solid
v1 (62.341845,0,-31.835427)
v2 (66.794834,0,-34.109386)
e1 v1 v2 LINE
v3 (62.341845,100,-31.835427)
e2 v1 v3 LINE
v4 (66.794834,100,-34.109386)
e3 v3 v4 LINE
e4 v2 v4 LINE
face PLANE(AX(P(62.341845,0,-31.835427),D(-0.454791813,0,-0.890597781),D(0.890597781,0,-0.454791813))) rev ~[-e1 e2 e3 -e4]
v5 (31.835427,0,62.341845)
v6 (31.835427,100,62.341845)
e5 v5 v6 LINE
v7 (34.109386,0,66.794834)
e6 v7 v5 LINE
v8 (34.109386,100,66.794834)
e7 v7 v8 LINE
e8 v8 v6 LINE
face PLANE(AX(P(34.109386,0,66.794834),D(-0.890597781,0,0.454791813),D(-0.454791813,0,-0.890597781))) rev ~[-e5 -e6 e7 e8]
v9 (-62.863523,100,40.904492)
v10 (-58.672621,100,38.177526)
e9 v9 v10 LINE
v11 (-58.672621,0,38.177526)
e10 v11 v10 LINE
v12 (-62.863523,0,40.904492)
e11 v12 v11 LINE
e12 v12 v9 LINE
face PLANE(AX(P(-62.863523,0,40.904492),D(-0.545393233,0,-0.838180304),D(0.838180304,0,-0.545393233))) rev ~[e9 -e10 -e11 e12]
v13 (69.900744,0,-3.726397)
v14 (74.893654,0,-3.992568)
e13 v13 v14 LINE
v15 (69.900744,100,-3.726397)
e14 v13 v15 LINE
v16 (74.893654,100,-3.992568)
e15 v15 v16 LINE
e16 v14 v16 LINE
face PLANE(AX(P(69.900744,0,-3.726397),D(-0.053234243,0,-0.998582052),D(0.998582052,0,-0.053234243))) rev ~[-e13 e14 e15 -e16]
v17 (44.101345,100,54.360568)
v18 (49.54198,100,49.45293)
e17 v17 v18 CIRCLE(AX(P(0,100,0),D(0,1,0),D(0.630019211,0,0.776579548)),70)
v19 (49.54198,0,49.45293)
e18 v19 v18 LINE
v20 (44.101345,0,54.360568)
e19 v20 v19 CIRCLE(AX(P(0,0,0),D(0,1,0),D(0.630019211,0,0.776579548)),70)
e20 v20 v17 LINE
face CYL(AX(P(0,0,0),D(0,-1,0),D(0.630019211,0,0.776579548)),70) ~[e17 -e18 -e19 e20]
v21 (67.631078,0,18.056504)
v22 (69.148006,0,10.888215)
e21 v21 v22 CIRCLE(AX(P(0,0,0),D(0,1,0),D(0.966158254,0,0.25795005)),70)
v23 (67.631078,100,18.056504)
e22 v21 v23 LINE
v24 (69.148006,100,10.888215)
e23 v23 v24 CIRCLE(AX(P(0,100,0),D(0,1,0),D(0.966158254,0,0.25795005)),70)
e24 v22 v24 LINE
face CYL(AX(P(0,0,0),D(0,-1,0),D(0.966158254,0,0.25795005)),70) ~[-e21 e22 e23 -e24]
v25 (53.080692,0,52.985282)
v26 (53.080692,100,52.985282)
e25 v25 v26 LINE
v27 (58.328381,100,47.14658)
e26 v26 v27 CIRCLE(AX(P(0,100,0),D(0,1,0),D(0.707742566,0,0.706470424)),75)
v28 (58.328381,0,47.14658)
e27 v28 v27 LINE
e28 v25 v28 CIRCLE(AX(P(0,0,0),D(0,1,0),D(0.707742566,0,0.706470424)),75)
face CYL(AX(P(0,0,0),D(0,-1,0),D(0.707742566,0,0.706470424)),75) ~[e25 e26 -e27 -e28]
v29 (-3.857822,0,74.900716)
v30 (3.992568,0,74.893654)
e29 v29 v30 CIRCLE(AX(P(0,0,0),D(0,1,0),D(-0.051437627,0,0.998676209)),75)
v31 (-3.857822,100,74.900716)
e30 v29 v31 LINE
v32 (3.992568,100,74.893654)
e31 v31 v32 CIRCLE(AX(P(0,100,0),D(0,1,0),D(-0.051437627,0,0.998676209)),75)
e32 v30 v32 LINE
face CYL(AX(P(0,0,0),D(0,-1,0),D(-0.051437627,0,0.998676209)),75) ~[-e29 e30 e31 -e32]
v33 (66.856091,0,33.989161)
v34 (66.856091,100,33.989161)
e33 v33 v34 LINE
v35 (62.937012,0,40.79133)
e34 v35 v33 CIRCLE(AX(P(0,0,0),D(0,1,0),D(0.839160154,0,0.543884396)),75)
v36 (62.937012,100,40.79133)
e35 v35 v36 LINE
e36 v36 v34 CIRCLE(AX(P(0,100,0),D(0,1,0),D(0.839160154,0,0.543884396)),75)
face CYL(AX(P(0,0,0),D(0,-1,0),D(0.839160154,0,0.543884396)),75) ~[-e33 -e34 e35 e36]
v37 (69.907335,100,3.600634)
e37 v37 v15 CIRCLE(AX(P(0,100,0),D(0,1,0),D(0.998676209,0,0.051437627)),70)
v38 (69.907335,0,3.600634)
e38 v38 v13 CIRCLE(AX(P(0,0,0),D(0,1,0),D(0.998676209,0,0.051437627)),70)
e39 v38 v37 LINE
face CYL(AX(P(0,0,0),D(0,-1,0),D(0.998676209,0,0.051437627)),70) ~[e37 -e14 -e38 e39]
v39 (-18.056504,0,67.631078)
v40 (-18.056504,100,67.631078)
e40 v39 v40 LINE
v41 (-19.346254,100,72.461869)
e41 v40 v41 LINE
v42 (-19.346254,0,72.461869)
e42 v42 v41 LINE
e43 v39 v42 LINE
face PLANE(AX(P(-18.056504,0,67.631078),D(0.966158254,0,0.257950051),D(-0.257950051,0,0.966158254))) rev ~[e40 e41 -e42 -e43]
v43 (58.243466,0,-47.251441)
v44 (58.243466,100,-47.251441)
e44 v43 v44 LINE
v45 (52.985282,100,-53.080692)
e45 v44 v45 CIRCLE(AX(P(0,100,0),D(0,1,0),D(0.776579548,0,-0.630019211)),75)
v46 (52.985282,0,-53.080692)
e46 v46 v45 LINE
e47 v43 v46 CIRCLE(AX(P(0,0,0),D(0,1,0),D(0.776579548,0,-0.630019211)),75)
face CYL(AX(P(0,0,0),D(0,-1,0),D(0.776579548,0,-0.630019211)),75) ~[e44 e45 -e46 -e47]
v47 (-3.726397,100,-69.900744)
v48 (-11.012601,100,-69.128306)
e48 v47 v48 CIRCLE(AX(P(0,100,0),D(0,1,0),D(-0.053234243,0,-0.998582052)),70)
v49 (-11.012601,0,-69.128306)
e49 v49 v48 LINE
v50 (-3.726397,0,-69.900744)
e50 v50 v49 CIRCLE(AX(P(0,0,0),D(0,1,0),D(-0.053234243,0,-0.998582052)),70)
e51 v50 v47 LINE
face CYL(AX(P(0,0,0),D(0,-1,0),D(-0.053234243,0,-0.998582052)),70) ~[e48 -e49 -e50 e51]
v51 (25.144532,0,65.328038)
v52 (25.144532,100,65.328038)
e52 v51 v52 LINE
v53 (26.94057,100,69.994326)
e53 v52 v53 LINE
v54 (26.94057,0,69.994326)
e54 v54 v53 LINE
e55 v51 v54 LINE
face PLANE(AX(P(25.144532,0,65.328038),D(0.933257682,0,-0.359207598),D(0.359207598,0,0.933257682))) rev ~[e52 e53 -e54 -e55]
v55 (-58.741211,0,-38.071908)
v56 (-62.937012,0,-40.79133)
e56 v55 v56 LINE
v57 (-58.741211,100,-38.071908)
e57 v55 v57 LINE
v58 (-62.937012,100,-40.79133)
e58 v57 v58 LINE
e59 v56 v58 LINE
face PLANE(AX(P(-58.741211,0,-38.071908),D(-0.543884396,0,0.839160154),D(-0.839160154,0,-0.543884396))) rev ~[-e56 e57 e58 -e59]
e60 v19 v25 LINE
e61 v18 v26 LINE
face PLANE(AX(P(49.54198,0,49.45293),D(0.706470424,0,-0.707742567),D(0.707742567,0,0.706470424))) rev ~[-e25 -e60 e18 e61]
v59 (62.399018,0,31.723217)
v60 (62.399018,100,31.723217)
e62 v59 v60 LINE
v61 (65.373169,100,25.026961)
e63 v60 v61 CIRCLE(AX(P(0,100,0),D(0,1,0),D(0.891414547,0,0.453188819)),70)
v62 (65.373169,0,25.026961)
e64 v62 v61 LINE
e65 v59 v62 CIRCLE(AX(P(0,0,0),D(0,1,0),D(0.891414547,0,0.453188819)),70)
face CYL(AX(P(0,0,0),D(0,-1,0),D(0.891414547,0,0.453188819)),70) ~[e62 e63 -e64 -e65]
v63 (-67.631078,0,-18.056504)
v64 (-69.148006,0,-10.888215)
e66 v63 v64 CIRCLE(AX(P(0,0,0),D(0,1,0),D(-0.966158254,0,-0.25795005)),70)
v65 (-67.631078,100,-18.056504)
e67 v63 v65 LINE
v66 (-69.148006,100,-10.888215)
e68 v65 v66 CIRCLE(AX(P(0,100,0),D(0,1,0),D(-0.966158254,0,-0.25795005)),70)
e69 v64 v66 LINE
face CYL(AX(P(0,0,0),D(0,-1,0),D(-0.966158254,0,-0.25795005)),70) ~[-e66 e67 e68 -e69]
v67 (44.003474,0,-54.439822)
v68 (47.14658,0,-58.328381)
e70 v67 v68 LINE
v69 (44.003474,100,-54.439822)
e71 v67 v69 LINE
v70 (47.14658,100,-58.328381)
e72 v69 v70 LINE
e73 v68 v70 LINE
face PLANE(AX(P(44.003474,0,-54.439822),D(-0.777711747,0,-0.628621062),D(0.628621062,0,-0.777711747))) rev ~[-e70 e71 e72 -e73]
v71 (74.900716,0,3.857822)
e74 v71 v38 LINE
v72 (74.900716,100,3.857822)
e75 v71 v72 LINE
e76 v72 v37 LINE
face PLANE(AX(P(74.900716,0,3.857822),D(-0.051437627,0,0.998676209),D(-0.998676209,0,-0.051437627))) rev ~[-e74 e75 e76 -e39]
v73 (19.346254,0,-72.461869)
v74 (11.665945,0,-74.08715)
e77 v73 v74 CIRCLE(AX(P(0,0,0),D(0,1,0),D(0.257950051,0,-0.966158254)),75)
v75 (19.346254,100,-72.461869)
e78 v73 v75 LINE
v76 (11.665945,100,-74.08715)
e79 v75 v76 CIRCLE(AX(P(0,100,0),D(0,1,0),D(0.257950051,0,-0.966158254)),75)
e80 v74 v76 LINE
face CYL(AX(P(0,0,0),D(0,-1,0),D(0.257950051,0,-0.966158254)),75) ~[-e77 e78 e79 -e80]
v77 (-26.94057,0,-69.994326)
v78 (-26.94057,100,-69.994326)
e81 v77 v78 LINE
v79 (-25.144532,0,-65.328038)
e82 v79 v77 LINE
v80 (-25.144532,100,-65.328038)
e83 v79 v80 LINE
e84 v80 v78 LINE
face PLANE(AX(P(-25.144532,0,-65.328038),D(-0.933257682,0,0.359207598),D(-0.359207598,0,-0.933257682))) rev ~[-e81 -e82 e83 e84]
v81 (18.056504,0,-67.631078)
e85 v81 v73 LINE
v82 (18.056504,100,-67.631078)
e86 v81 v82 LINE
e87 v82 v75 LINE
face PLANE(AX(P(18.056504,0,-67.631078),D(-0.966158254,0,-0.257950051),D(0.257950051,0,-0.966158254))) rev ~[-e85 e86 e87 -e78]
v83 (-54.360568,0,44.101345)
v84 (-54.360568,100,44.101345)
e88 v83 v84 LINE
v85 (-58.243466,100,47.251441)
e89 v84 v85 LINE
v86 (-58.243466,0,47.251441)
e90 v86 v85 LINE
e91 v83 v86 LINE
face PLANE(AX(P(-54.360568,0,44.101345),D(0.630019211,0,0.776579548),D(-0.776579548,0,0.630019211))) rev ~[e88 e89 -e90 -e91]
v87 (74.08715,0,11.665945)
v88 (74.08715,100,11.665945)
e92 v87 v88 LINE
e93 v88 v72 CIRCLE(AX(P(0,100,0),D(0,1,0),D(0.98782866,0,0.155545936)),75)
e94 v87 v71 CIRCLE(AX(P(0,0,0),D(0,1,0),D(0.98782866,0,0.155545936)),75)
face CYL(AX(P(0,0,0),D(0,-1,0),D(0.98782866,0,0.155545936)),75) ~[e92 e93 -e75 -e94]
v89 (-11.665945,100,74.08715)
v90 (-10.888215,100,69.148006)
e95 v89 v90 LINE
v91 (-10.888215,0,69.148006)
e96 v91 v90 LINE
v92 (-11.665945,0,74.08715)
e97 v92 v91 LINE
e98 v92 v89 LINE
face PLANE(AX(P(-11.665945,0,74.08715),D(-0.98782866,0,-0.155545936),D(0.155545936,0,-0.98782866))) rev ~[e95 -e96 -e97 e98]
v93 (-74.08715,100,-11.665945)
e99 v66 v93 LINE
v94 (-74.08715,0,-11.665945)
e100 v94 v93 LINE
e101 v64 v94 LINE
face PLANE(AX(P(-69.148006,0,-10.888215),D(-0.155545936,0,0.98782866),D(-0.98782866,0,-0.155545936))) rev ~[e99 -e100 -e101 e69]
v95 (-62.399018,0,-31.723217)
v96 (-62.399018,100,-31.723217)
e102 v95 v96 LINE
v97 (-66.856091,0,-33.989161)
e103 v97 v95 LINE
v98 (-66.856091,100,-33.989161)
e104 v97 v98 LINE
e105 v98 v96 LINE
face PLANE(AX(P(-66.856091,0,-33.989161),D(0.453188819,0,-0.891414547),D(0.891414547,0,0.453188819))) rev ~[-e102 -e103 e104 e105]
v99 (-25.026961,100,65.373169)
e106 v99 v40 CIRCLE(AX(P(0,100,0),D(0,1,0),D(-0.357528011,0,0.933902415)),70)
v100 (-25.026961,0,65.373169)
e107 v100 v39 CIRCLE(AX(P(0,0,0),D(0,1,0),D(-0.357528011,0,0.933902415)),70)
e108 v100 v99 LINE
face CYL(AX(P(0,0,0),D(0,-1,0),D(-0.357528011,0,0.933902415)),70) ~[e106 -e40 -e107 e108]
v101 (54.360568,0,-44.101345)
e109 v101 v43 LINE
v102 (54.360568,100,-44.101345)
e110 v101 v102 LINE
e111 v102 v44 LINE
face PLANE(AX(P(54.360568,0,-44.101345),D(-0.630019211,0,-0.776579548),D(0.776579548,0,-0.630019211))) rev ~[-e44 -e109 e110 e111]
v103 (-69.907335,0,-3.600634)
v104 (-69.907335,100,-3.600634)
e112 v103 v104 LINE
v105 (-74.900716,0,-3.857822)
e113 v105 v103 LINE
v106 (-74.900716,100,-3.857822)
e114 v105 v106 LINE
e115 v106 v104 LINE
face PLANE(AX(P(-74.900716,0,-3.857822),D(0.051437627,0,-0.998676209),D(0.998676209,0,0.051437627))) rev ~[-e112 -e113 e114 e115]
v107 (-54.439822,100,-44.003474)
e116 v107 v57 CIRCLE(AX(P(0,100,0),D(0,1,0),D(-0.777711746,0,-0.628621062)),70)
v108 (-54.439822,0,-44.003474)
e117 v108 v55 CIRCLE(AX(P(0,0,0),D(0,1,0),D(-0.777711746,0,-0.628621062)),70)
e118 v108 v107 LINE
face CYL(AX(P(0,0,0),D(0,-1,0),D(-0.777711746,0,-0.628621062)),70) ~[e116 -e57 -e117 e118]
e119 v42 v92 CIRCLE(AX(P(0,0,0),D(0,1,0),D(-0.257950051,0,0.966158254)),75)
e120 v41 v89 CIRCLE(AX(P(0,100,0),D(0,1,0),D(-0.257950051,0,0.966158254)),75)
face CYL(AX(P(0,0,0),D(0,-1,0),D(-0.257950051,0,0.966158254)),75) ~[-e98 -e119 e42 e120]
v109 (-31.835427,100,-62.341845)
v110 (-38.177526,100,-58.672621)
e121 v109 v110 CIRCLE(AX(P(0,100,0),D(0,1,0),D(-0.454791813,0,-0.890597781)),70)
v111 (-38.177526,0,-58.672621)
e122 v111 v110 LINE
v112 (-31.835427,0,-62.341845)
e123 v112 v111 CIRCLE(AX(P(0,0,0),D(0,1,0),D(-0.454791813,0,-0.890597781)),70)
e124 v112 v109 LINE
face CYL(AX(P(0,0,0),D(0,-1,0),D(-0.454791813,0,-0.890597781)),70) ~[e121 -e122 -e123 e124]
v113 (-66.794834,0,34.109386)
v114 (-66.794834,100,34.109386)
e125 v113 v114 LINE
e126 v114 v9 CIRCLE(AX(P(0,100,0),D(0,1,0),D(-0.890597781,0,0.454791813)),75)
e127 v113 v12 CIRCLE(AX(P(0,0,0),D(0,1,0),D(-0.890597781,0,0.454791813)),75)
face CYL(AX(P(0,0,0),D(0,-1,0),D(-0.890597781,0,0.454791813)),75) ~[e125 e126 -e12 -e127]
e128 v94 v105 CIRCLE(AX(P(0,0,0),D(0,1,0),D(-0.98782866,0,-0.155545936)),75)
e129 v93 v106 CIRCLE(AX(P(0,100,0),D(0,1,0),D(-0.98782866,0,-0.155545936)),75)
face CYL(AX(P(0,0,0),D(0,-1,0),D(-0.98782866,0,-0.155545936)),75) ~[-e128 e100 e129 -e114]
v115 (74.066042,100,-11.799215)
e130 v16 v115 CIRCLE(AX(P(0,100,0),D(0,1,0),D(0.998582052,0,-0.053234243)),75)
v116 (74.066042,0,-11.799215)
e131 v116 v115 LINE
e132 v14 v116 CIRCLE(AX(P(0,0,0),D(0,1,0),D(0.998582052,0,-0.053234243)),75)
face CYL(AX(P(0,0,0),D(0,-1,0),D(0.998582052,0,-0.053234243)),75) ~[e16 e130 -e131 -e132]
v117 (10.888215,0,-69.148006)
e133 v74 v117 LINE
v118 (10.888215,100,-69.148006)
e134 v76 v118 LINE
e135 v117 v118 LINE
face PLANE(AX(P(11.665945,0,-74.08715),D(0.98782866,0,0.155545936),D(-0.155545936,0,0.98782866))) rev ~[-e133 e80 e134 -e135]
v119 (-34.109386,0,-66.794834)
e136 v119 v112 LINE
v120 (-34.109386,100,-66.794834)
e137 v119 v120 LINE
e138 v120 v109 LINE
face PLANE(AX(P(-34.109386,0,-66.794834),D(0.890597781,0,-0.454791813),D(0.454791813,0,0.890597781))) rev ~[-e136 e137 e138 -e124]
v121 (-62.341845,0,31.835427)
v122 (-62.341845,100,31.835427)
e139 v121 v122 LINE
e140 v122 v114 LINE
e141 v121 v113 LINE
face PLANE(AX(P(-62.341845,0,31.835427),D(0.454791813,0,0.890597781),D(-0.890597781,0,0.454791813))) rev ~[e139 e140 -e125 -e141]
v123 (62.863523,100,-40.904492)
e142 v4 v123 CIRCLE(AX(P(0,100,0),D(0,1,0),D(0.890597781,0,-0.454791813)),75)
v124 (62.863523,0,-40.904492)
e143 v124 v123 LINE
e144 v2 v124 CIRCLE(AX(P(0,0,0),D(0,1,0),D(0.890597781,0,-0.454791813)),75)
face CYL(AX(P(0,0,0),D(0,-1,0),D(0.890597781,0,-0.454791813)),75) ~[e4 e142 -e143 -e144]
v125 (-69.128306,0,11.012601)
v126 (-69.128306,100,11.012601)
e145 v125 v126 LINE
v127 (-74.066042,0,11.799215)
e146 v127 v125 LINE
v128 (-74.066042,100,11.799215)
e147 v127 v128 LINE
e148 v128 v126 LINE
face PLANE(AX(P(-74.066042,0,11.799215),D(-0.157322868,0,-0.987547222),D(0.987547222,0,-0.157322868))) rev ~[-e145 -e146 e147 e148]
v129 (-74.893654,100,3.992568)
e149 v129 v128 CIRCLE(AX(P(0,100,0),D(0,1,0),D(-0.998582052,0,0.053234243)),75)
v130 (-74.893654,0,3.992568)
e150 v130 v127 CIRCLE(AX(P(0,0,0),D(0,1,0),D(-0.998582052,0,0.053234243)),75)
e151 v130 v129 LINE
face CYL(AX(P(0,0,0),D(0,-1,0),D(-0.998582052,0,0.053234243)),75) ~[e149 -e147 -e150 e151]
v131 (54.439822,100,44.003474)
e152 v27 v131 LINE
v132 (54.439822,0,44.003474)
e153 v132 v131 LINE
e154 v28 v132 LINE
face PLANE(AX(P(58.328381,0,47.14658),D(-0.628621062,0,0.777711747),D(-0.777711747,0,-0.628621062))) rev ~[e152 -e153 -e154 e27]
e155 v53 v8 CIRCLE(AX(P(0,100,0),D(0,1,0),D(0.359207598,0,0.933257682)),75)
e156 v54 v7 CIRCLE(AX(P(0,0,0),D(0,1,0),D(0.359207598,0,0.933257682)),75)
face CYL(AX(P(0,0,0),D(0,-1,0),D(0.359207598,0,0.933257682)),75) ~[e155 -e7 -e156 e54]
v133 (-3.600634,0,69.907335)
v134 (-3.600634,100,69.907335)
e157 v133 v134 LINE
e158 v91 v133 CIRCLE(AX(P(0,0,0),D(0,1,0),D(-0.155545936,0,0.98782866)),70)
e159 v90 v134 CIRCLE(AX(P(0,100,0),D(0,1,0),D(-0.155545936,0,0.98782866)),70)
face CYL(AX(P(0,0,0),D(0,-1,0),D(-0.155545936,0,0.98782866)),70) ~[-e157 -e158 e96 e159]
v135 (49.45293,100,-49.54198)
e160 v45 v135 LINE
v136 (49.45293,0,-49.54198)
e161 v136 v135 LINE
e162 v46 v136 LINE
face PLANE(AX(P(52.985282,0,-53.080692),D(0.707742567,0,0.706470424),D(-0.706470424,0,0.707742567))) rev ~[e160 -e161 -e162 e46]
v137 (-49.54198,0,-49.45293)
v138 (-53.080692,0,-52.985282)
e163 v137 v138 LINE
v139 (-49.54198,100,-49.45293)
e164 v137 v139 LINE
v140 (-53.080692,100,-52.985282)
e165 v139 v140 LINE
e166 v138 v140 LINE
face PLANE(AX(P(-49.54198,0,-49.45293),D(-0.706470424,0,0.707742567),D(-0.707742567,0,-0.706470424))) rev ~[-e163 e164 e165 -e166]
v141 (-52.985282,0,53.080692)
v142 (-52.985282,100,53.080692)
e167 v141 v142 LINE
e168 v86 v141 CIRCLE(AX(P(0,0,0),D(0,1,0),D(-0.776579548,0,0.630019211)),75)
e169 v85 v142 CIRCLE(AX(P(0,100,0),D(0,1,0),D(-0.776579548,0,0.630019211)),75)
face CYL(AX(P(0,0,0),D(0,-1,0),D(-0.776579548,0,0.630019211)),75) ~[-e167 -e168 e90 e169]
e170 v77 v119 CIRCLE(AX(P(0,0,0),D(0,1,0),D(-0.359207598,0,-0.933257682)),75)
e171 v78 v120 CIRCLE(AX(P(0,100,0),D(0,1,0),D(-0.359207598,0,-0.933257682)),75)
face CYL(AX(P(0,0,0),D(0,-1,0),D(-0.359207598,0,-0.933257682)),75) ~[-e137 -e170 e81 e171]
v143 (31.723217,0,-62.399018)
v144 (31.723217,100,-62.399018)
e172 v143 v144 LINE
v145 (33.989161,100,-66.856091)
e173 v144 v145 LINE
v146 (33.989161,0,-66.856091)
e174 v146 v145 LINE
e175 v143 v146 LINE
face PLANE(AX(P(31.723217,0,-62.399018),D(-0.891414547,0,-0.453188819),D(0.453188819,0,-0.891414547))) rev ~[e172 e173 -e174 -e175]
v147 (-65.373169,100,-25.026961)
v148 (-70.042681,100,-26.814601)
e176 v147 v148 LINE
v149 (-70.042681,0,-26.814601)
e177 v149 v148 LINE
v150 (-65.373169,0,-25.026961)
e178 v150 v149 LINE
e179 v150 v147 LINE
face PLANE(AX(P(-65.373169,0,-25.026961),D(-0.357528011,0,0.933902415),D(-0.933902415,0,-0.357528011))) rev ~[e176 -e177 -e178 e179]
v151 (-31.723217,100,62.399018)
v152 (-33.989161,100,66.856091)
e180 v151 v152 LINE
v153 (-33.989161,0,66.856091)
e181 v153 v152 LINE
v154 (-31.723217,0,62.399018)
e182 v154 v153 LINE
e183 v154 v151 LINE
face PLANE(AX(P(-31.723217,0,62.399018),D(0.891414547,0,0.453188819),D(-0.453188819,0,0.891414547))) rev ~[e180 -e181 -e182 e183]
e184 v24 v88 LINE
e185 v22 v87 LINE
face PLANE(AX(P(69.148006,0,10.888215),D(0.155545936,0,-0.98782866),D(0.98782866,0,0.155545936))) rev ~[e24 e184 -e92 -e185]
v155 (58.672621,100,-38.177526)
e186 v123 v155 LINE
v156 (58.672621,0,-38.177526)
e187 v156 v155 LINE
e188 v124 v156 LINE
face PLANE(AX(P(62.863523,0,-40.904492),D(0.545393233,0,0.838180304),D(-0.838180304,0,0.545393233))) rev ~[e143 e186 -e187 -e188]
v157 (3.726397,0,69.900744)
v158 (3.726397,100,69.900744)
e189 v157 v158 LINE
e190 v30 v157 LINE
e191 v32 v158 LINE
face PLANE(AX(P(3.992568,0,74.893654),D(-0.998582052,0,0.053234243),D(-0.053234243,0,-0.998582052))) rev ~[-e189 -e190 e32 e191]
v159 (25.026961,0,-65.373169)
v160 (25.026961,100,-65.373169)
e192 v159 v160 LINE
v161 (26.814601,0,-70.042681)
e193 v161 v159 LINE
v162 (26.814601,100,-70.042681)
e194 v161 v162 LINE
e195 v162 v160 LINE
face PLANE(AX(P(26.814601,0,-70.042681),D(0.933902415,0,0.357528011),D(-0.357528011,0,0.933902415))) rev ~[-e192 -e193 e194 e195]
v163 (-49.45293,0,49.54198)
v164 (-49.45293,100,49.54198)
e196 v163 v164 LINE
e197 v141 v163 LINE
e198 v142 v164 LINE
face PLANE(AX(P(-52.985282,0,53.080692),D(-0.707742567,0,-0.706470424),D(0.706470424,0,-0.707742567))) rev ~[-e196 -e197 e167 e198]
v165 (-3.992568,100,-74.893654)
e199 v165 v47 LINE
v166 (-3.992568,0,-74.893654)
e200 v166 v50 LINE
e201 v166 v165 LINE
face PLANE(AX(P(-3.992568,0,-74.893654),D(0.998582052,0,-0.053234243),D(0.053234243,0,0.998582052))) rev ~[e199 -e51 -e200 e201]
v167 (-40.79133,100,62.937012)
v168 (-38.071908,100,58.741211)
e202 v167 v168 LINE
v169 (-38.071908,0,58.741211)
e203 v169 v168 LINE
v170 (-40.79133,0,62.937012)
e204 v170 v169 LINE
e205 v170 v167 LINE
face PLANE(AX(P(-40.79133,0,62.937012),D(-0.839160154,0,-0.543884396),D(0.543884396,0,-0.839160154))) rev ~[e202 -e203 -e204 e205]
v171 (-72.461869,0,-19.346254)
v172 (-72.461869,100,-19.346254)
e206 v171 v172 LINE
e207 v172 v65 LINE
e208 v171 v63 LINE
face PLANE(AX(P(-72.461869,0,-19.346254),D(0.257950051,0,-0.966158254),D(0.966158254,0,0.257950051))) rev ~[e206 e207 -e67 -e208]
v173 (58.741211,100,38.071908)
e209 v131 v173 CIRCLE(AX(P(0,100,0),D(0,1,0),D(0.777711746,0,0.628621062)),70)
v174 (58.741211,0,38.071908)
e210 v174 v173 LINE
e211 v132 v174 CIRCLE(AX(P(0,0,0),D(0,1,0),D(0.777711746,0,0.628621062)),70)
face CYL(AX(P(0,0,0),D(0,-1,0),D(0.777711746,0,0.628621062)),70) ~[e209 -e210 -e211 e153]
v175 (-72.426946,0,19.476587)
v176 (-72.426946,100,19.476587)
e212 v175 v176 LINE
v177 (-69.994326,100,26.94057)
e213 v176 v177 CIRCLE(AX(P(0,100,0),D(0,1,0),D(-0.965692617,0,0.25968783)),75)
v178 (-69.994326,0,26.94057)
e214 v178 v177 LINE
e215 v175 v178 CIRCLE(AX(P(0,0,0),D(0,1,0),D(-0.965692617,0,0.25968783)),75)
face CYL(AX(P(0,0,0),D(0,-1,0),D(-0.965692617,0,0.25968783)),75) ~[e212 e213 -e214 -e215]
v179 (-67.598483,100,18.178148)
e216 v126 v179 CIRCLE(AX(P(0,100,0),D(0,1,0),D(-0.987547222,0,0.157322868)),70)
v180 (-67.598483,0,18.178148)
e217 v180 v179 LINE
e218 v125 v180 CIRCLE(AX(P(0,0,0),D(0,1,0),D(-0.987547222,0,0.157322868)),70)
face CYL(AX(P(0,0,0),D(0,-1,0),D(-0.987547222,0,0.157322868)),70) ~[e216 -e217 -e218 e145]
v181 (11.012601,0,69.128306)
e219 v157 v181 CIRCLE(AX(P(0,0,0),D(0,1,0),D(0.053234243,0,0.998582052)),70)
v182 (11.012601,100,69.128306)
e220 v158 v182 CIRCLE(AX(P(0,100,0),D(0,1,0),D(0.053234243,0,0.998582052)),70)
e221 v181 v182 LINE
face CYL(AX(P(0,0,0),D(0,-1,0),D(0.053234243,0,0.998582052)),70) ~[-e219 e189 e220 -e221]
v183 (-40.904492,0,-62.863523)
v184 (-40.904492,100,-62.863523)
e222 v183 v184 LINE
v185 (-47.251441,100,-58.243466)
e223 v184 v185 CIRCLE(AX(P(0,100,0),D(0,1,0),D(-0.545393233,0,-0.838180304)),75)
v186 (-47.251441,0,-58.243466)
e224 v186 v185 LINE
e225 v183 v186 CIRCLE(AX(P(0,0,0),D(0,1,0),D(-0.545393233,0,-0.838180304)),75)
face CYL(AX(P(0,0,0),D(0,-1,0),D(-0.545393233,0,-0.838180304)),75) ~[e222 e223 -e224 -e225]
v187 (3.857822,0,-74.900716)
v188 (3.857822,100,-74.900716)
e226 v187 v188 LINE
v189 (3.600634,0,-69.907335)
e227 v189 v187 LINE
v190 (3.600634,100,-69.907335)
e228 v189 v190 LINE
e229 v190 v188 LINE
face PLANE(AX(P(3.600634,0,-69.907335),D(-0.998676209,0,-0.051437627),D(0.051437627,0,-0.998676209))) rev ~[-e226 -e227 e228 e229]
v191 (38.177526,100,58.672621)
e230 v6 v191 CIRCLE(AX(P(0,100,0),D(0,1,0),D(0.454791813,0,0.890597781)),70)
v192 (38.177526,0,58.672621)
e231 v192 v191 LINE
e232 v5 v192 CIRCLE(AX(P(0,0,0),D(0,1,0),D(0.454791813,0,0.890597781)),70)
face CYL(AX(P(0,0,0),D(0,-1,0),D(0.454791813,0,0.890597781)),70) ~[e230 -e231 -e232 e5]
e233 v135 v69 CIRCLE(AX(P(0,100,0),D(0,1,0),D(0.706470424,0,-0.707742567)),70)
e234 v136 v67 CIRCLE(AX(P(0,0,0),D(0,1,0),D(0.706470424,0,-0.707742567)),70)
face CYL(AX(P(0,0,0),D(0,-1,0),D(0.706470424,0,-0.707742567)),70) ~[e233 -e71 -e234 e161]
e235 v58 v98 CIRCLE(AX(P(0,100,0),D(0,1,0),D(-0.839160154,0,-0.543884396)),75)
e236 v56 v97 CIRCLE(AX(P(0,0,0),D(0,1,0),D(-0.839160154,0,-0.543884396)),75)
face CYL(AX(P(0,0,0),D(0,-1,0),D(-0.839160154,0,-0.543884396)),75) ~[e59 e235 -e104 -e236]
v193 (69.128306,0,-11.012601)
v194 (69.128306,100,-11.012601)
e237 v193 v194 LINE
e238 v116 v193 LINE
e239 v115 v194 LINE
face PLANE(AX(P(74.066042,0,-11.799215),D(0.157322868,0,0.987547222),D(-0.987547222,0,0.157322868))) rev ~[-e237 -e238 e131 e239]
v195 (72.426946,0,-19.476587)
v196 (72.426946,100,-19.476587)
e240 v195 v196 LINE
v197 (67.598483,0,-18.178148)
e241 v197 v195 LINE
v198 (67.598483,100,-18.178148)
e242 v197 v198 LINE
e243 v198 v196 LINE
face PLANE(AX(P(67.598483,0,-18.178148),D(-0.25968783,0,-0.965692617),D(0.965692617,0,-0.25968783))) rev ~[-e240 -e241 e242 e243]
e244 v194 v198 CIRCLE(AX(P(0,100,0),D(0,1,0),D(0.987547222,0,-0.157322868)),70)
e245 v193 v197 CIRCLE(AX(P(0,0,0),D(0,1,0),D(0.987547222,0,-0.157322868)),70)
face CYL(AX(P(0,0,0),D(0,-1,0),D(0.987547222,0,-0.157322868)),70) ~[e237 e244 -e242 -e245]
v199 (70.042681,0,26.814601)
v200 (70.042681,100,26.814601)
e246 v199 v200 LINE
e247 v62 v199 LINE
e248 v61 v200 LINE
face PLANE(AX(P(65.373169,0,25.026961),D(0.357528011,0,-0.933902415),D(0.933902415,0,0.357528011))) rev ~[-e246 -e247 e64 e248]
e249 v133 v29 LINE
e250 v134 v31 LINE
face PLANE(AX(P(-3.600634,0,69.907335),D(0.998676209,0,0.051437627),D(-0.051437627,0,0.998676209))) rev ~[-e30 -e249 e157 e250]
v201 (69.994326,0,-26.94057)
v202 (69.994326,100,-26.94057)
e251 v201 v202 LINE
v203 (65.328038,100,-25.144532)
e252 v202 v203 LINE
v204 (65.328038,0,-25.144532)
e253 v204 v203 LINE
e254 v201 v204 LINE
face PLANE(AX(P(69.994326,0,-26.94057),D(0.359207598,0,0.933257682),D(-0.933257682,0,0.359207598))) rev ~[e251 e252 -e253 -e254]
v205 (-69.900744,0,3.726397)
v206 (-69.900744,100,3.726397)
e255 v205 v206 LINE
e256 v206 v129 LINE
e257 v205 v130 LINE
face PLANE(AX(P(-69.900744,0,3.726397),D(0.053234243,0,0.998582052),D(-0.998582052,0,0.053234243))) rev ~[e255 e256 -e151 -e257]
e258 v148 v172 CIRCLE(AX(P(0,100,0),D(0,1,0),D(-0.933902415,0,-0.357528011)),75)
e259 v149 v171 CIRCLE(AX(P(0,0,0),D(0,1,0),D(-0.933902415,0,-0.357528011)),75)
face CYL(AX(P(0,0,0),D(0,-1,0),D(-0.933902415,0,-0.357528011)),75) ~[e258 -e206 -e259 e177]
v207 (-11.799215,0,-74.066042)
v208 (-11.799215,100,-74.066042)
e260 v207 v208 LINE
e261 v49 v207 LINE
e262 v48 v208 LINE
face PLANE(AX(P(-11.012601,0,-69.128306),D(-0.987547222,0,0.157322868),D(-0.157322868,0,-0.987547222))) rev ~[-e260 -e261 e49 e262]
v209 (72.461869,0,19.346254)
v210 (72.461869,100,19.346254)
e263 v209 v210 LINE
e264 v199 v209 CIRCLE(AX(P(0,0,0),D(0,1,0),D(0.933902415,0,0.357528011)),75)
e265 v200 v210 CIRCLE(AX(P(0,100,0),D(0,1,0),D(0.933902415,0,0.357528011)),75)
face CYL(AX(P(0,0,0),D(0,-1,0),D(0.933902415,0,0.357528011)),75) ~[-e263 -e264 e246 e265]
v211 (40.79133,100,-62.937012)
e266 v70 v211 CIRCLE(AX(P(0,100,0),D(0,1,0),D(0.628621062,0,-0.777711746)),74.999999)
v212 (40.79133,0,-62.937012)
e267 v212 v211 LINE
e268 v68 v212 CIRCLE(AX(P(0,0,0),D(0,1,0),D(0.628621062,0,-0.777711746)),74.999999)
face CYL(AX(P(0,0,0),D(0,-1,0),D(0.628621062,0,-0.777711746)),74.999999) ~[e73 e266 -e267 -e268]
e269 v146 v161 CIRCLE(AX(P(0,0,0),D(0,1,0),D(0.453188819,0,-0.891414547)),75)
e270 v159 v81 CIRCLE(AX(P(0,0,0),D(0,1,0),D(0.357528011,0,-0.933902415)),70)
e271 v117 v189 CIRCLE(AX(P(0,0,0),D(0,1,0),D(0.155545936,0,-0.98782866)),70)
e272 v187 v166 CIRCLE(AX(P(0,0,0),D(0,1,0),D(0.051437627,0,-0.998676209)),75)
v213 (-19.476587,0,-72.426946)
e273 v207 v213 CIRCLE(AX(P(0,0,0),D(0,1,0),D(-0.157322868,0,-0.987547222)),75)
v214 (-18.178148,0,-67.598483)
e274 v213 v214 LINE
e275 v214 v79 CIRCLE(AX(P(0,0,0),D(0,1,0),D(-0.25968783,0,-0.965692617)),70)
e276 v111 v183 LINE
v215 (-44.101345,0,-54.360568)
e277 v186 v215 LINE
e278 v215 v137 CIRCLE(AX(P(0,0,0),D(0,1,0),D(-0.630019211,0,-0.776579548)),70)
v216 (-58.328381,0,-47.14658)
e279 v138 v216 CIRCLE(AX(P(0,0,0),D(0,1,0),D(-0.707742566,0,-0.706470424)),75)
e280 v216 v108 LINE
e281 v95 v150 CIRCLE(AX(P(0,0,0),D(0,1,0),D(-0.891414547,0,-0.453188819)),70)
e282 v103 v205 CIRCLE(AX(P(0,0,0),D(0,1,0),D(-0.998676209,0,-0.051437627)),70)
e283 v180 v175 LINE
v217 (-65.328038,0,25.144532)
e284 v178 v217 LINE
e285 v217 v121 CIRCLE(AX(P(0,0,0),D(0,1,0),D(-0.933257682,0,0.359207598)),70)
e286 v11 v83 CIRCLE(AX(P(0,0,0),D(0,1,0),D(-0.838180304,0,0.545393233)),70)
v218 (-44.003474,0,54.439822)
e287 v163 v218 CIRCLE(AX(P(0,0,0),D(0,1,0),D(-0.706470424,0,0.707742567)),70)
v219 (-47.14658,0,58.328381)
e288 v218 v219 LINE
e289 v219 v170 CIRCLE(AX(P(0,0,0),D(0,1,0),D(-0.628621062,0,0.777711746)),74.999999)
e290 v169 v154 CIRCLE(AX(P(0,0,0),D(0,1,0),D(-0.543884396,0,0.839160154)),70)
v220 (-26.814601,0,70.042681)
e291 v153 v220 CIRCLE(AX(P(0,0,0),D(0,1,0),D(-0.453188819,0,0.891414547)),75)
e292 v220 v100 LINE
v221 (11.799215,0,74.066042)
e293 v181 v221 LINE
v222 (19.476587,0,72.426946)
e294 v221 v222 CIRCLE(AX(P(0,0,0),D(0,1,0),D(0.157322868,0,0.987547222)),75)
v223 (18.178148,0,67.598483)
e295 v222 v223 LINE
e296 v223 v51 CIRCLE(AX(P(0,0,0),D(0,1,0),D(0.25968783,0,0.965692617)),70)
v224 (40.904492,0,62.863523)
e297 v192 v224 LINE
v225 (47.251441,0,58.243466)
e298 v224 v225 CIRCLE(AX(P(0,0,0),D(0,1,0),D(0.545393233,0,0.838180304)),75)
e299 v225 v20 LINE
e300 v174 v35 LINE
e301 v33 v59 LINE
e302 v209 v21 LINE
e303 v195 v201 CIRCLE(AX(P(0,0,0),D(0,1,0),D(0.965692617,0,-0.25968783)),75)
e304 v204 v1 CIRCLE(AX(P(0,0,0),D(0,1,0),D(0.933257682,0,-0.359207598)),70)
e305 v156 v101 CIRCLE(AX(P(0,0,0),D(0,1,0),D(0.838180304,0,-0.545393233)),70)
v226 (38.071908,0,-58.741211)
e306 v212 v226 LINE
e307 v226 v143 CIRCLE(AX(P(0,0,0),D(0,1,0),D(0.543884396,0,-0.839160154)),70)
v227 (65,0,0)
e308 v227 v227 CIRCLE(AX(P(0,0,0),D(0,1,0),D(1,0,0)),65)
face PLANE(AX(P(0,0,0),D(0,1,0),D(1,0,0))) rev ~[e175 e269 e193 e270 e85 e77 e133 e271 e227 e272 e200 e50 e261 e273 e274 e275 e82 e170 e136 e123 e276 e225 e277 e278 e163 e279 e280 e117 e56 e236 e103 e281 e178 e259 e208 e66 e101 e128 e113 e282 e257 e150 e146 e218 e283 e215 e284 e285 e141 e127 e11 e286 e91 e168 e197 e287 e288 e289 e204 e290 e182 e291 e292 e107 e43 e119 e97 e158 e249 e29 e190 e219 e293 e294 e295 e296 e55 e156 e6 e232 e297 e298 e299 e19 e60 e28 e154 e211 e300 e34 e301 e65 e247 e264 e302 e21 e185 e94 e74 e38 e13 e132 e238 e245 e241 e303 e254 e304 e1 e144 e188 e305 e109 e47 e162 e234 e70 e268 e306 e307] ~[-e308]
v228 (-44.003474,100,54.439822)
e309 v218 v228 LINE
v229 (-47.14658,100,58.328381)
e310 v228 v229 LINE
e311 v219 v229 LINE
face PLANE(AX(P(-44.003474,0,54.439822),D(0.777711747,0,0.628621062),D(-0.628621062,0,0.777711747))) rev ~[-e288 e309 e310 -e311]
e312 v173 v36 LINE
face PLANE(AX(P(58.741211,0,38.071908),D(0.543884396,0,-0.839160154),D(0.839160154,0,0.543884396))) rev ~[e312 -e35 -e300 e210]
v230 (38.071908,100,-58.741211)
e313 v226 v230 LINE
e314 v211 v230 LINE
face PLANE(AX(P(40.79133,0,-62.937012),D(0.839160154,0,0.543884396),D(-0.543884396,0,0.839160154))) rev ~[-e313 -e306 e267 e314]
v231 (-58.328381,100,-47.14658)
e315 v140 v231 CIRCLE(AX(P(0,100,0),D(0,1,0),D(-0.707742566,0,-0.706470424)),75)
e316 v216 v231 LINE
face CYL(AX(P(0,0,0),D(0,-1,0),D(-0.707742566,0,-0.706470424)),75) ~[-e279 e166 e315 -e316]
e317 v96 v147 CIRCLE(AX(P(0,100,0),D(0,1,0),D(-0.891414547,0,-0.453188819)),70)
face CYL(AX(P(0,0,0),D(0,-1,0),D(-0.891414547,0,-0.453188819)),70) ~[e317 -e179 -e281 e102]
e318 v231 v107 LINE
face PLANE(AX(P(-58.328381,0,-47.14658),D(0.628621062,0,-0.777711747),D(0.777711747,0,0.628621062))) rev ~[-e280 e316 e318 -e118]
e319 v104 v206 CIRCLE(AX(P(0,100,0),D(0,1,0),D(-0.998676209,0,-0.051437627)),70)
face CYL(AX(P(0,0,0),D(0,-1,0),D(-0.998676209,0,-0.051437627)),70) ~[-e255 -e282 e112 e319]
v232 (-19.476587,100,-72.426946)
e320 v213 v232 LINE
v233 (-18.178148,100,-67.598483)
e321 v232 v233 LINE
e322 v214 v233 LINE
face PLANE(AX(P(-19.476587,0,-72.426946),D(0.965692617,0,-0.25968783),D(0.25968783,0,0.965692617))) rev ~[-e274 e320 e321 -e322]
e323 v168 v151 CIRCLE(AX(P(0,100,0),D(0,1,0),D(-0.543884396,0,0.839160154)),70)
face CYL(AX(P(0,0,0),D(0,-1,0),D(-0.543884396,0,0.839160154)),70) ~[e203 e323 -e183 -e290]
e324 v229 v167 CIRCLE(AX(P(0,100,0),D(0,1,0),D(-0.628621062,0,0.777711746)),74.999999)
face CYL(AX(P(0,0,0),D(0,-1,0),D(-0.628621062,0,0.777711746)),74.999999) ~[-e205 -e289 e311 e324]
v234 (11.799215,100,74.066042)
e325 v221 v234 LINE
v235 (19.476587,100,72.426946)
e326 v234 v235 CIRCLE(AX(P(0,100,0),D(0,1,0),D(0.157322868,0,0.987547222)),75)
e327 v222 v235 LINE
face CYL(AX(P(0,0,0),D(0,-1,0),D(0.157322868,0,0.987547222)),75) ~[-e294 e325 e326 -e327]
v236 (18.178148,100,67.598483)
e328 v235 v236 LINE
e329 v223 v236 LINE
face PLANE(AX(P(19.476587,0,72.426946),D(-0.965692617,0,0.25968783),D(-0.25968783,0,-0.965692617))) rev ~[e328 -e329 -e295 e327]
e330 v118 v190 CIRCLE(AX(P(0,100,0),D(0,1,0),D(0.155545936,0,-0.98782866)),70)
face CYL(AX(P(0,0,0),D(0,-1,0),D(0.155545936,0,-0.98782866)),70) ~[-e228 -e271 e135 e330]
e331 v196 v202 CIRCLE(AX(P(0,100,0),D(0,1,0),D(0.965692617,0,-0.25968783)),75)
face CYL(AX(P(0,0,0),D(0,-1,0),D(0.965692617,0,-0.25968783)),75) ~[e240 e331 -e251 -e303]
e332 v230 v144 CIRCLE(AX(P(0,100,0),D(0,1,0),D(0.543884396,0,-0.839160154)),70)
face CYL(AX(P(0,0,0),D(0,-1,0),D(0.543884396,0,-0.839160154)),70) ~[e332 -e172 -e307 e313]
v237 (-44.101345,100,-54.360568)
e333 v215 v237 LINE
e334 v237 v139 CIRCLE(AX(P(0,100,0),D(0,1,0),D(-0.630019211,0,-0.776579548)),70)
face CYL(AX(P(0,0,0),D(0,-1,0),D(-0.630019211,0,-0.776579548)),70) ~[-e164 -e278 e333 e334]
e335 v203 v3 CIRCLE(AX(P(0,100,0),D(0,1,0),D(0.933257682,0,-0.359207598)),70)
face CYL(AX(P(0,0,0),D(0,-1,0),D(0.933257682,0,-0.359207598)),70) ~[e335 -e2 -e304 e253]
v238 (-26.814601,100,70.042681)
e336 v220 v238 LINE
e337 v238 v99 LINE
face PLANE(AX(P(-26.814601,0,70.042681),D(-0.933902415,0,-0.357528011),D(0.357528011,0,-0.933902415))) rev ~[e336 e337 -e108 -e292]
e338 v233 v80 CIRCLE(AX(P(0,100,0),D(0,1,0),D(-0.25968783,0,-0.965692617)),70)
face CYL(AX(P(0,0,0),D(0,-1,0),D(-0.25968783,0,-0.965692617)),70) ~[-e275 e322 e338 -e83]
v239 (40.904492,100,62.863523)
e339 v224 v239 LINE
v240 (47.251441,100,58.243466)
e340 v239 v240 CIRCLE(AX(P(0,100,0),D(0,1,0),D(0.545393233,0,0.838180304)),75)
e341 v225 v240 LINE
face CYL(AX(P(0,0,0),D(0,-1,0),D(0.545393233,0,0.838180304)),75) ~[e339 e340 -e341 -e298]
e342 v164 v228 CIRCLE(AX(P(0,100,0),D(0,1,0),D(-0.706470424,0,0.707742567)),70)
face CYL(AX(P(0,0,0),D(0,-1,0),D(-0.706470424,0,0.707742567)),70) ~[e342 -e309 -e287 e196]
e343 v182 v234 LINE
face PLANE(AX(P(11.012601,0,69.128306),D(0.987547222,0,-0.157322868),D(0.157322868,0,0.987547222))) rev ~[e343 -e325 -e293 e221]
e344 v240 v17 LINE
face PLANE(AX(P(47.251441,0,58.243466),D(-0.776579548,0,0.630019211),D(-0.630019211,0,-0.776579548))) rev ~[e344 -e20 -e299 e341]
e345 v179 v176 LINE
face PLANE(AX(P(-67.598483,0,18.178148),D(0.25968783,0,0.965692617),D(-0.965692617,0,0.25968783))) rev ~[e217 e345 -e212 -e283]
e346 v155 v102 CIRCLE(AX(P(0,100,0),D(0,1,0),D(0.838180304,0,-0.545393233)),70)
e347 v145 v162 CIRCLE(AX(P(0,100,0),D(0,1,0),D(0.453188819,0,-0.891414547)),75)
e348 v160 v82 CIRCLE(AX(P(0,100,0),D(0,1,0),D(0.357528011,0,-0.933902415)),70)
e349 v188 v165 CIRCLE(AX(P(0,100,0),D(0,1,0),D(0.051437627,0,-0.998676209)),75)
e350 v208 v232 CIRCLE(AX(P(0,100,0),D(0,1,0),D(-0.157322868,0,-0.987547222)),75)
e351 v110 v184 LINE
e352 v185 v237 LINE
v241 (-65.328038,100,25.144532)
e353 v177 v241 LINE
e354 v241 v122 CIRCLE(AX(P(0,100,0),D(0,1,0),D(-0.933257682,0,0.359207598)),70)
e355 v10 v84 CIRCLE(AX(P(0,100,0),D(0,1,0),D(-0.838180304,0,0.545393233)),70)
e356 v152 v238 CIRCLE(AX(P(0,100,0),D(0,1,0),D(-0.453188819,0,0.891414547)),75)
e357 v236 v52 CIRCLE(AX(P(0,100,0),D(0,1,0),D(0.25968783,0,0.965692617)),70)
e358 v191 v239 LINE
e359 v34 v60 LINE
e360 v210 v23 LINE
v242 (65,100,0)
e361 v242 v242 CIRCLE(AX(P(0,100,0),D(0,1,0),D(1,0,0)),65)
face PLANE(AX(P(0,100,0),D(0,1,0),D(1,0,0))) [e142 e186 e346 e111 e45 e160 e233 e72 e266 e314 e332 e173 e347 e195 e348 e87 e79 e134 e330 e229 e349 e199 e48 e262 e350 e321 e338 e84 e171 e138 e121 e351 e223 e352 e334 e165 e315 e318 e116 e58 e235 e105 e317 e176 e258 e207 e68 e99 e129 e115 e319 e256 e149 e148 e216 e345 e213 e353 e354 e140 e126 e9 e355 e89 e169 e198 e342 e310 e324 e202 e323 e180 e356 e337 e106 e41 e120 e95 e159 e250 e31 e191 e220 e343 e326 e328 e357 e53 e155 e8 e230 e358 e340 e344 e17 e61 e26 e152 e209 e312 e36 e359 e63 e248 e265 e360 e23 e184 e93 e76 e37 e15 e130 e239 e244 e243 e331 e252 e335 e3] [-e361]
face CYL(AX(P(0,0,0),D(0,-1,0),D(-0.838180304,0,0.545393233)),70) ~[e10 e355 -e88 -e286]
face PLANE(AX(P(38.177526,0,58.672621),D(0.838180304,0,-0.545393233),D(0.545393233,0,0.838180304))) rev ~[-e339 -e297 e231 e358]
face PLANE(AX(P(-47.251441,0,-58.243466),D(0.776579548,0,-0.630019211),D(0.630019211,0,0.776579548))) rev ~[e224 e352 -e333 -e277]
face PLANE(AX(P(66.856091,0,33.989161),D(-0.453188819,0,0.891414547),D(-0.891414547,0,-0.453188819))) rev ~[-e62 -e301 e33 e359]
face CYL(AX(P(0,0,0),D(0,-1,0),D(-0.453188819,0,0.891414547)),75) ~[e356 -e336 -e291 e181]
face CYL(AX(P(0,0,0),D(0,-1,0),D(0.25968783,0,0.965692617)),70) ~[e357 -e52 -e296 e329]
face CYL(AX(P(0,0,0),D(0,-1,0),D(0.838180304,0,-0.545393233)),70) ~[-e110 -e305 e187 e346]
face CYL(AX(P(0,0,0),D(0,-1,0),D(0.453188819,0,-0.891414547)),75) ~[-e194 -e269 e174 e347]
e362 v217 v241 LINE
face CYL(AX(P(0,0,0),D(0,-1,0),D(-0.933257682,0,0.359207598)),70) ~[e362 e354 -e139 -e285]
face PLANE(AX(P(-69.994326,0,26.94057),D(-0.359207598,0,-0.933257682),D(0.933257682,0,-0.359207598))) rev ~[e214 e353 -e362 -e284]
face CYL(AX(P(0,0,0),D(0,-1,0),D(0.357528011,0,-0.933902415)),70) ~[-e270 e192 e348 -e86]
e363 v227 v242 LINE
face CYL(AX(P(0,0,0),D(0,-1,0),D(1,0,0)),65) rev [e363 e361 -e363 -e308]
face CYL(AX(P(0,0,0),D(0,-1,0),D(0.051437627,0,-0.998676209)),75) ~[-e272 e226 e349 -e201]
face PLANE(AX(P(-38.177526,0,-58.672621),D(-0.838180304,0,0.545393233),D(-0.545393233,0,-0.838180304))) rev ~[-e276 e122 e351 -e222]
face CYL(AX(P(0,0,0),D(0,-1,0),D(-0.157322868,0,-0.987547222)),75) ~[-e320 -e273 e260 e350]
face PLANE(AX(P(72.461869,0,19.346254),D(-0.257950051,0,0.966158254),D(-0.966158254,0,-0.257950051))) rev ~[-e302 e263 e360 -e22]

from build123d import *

# Parameters (mm, degrees)
SKETCH2_R           = 65
BOSS_EXTRUDE1_DEPTH = 100


with BuildPart() as part:
    # Sketch2 → Boss-Extrude1 (new body)
    with BuildSketch(Plane(origin=(0, 0, 0), x_dir=(1, 0, 0), z_dir=(0, 1, 0))):
        with BuildLine():
            Line((-11.012600748, 69.128305525), (-11.799215087, 74.066041634))
            ThreePointArc((-11.799215087, 74.066041634), (-15.659361787, 73.347013494), (-19.476587264, 72.426946288))
            Line((-19.476587264, 72.426946288), (-18.178148113, 67.598483202))
            ThreePointArc((-18.178148113, 67.598483202), (-21.691066852, 66.554471066), (-25.144531884, 65.32803775))
            Line((-25.144531884, 65.32803775), (-26.940569876, 69.994326161))
            ThreePointArc((-26.940569876, 69.994326161), (-30.566868752, 68.488440884), (-34.109385966, 66.79483355))
            Line((-34.109385966, 66.79483355), (-31.835426902, 62.341844647))
            ThreePointArc((-31.835426902, 62.341844647), (-35.054517609, 60.590269806), (-38.177526321, 58.672621247))
            Line((-38.177526321, 58.672621247), (-40.904492486, 62.863522765))
            ThreePointArc((-40.904492486, 62.863522765), (-44.138456878, 60.636594763), (-47.251440827, 58.243466069))
            Line((-47.251440827, 58.243466069), (-44.101344772, 54.360568332))
            ThreePointArc((-44.101344772, 54.360568332), (-46.885917737, 51.977983012), (-49.541979661, 49.452929653))
            Line((-49.541979661, 49.452929653), (-53.080692494, 52.985281771))
            ThreePointArc((-53.080692494, 52.985281771), (-55.780982638, 50.134638485), (-58.328380986, 47.146579638))
            Line((-58.328380986, 47.146579638), (-54.439822253, 44.003474329))
            ThreePointArc((-54.439822253, 44.003474329), (-56.668178276, 41.094008942), (-58.741210761, 38.071907732))
            Line((-58.741210761, 38.071907732), (-62.937011529, 40.791329713))
            ThreePointArc((-62.937011529, 40.791329713), (-64.985611789, 37.441557932), (-66.856091005, 33.989161443))
            Line((-66.856091005, 33.989161443), (-62.399018271, 31.723217347))
            ThreePointArc((-62.399018271, 31.723217347), (-63.9737675, 28.41402949), (-65.373169079, 25.026960753))
            Line((-65.373169079, 25.026960753), (-70.042681156, 26.814600807))
            ThreePointArc((-70.042681156, 26.814600807), (-71.350057871, 23.112101633), (-72.461869036, 19.346253794))
            Line((-72.461869036, 19.346253794), (-67.631077767, 18.056503541))
            ThreePointArc((-67.631077767, 18.056503541), (-68.483396104, 14.492220604), (-69.148006213, 10.888215497))
            Line((-69.148006213, 10.888215497), (-74.087149514, 11.665945176))
            ThreePointArc((-74.087149514, 11.665945176), (-74.596164047, 7.772535588), (-74.900715679, 3.857822021))
            Line((-74.900715679, 3.857822021), (-69.907334634, 3.600633886))
            ThreePointArc((-69.907334634, 3.600633886), (-69.999971679, -0.062967864), (-69.900743667, -3.726397024))
            Line((-69.900743667, -3.726397024), (-74.893653929, -3.99256824))
            ThreePointArc((-74.893653929, -3.99256824), (-74.582059903, -7.906727558), (-74.066041634, -11.799215087))
            Line((-74.066041634, -11.799215087), (-69.128305525, -11.012600748))
            ThreePointArc((-69.128305525, -11.012600748), (-68.457212594, -14.615404334), (-67.598483202, -18.178148113))
            Line((-67.598483202, -18.178148113), (-72.426946288, -19.476587264))
            ThreePointArc((-72.426946288, -19.476587264), (-71.308361856, -23.24042877), (-69.994326161, -26.940569876))
            Line((-69.994326161, -26.940569876), (-65.32803775, -25.144531884))
            ThreePointArc((-65.32803775, -25.144531884), (-63.922544825, -28.529077502), (-62.341844647, -31.835426902))
            Line((-62.341844647, -31.835426902), (-66.79483355, -34.109385966))
            ThreePointArc((-66.79483355, -34.109385966), (-64.918146221, -37.558411724), (-62.863522765, -40.904492486))
            Line((-62.863522765, -40.904492486), (-58.672621247, -38.177526321))
            ThreePointArc((-58.672621247, -38.177526321), (-56.594155112, -41.195893086), (-54.360568332, -44.101344772))
            Line((-54.360568332, -44.101344772), (-58.243466069, -47.251440827))
            ThreePointArc((-58.243466069, -47.251440827), (-55.690696084, -50.234911861), (-52.985281771, -53.080692494))
            Line((-52.985281771, -53.080692494), (-49.452929653, -49.541979661))
            ThreePointArc((-49.452929653, -49.541979661), (-46.792329252, -52.062250462), (-44.003474329, -54.439822253))
            Line((-44.003474329, -54.439822253), (-47.146579638, -58.328380986))
            ThreePointArc((-47.146579638, -58.328380986), (-44.029295295, -60.715905296), (-40.791329713, -62.937011529))
            Line((-40.791329713, -62.937011529), (-38.071907732, -58.741210761))
            ThreePointArc((-38.071907732, -58.741210761), (-34.94545407, -60.65323767), (-31.723217347, -62.399018271))
            Line((-31.723217347, -62.399018271), (-33.989161443, -66.856091005))
            ThreePointArc((-33.989161443, -66.856091005), (-30.443603025, -68.543322321), (-26.814600807, -70.042681156))
            Line((-26.814600807, -70.042681156), (-25.026960753, -65.373169079))
            ThreePointArc((-25.026960753, -65.373169079), (-21.571294857, -66.593387346), (-18.056503541, -67.631077767))
            Line((-18.056503541, -67.631077767), (-19.346253794, -72.461869036))
            ThreePointArc((-19.346253794, -72.461869036), (-15.527379218, -73.375067255), (-11.665945176, -74.087149514))
            Line((-11.665945176, -74.087149514), (-10.888215497, -69.148006213))
            ThreePointArc((-10.888215497, -69.148006213), (-7.254366549, -69.623086444), (-3.600633886, -69.907334634))
            Line((-3.600633886, -69.907334634), (-3.857822021, -74.900715679))
            ThreePointArc((-3.857822021, -74.900715679), (0.067465569, -74.999969656), (3.99256824, -74.893653929))
            Line((3.99256824, -74.893653929), (3.726397024, -69.900743667))
            ThreePointArc((3.726397024, -69.900743667), (7.379612388, -69.609922576), (11.012600748, -69.128305525))
            Line((11.012600748, -69.128305525), (11.799215087, -74.066041634))
            ThreePointArc((11.799215087, -74.066041634), (15.659361787, -73.347013494), (19.476587264, -72.426946288))
            Line((19.476587264, -72.426946288), (18.178148113, -67.598483202))
            ThreePointArc((18.178148113, -67.598483202), (21.691066852, -66.554471066), (25.144531884, -65.32803775))
            Line((25.144531884, -65.32803775), (26.940569876, -69.994326161))
            ThreePointArc((26.940569876, -69.994326161), (30.566868752, -68.488440884), (34.109385966, -66.79483355))
            Line((34.109385966, -66.79483355), (31.835426902, -62.341844647))
            ThreePointArc((31.835426902, -62.341844647), (35.054517609, -60.590269806), (38.177526321, -58.672621247))
            Line((38.177526321, -58.672621247), (40.904492486, -62.863522765))
            ThreePointArc((40.904492486, -62.863522765), (44.138456878, -60.636594763), (47.251440827, -58.243466069))
            Line((47.251440827, -58.243466069), (44.101344772, -54.360568332))
            ThreePointArc((44.101344772, -54.360568332), (46.885917737, -51.977983012), (49.541979661, -49.452929653))
            Line((49.541979661, -49.452929653), (53.080692494, -52.985281771))
            ThreePointArc((53.080692494, -52.985281771), (55.780982638, -50.134638485), (58.328380986, -47.146579638))
            Line((58.328380986, -47.146579638), (54.439822253, -44.003474329))
            ThreePointArc((54.439822253, -44.003474329), (56.668178276, -41.094008942), (58.741210761, -38.071907732))
            Line((58.741210761, -38.071907732), (62.937011529, -40.791329713))
            ThreePointArc((62.937011529, -40.791329713), (64.985611789, -37.441557932), (66.856091005, -33.989161443))
            Line((66.856091005, -33.989161443), (62.399018271, -31.723217347))
            ThreePointArc((62.399018271, -31.723217347), (63.9737675, -28.41402949), (65.373169079, -25.026960753))
            Line((65.373169079, -25.026960753), (70.042681156, -26.814600807))
            ThreePointArc((70.042681156, -26.814600807), (71.350057871, -23.112101633), (72.461869036, -19.346253794))
            Line((72.461869036, -19.346253794), (67.631077767, -18.056503541))
            ThreePointArc((67.631077767, -18.056503541), (68.483396104, -14.492220604), (69.148006213, -10.888215497))
            Line((69.148006213, -10.888215497), (74.087149514, -11.665945176))
            ThreePointArc((74.087149514, -11.665945176), (74.596164047, -7.772535588), (74.900715679, -3.857822021))
            Line((74.900715679, -3.857822021), (69.907334634, -3.600633886))
            ThreePointArc((69.907334634, -3.600633886), (69.999971679, 0.062967864), (69.900743667, 3.726397024))
            Line((69.900743667, 3.726397024), (74.893653929, 3.99256824))
            ThreePointArc((74.893653929, 3.99256824), (74.582059903, 7.906727558), (74.066041634, 11.799215087))
            Line((74.066041634, 11.799215087), (69.128305525, 11.012600748))
            ThreePointArc((69.128305525, 11.012600748), (68.457212594, 14.615404334), (67.598483202, 18.178148113))
            Line((67.598483202, 18.178148113), (72.426946288, 19.476587264))
            ThreePointArc((72.426946288, 19.476587264), (71.308361856, 23.24042877), (69.994326161, 26.940569876))
            Line((69.994326161, 26.940569876), (65.32803775, 25.144531884))
            ThreePointArc((65.32803775, 25.144531884), (63.922544825, 28.529077502), (62.341844647, 31.835426902))
            Line((62.341844647, 31.835426902), (66.79483355, 34.109385966))
            ThreePointArc((66.79483355, 34.109385966), (64.918146221, 37.558411724), (62.863522765, 40.904492486))
            Line((62.863522765, 40.904492486), (58.672621247, 38.177526321))
            ThreePointArc((58.672621247, 38.177526321), (56.594155112, 41.195893086), (54.360568332, 44.101344772))
            Line((54.360568332, 44.101344772), (58.243466069, 47.251440827))
            ThreePointArc((58.243466069, 47.251440827), (55.690696084, 50.234911861), (52.985281771, 53.080692494))
            Line((52.985281771, 53.080692494), (49.452929653, 49.541979661))
            ThreePointArc((49.452929653, 49.541979661), (46.792329252, 52.062250462), (44.003474329, 54.439822253))
            Line((44.003474329, 54.439822253), (47.146579638, 58.328380986))
            ThreePointArc((47.146579638, 58.328380986), (44.029295295, 60.715905296), (40.791329713, 62.937011529))
            Line((40.791329713, 62.937011529), (38.071907732, 58.741210761))
            ThreePointArc((38.071907732, 58.741210761), (34.94545407, 60.65323767), (31.723217347, 62.399018271))
            Line((31.723217347, 62.399018271), (33.989161443, 66.856091005))
            ThreePointArc((33.989161443, 66.856091005), (30.443603025, 68.543322321), (26.814600807, 70.042681156))
            Line((26.814600807, 70.042681156), (25.026960753, 65.373169079))
            ThreePointArc((25.026960753, 65.373169079), (21.571294857, 66.593387346), (18.056503541, 67.631077767))
            Line((18.056503541, 67.631077767), (19.346253794, 72.461869036))
            ThreePointArc((19.346253794, 72.461869036), (15.527379218, 73.375067255), (11.665945176, 74.087149514))
            Line((11.665945176, 74.087149514), (10.888215497, 69.148006213))
            ThreePointArc((10.888215497, 69.148006213), (7.254366549, 69.623086444), (3.600633886, 69.907334634))
            Line((3.600633886, 69.907334634), (3.857822021, 74.900715679))
            ThreePointArc((3.857822021, 74.900715679), (-0.067465569, 74.999969656), (-3.99256824, 74.893653929))
            Line((-3.99256824, 74.893653929), (-3.726397024, 69.900743667))
            ThreePointArc((-3.726397024, 69.900743667), (-7.379612388, 69.609922576), (-11.012600748, 69.128305525))
        make_face()
        Circle(SKETCH2_R, mode=Mode.SUBTRACT)
    extrude(amount=BOSS_EXTRUDE1_DEPTH)


solid = part.part
